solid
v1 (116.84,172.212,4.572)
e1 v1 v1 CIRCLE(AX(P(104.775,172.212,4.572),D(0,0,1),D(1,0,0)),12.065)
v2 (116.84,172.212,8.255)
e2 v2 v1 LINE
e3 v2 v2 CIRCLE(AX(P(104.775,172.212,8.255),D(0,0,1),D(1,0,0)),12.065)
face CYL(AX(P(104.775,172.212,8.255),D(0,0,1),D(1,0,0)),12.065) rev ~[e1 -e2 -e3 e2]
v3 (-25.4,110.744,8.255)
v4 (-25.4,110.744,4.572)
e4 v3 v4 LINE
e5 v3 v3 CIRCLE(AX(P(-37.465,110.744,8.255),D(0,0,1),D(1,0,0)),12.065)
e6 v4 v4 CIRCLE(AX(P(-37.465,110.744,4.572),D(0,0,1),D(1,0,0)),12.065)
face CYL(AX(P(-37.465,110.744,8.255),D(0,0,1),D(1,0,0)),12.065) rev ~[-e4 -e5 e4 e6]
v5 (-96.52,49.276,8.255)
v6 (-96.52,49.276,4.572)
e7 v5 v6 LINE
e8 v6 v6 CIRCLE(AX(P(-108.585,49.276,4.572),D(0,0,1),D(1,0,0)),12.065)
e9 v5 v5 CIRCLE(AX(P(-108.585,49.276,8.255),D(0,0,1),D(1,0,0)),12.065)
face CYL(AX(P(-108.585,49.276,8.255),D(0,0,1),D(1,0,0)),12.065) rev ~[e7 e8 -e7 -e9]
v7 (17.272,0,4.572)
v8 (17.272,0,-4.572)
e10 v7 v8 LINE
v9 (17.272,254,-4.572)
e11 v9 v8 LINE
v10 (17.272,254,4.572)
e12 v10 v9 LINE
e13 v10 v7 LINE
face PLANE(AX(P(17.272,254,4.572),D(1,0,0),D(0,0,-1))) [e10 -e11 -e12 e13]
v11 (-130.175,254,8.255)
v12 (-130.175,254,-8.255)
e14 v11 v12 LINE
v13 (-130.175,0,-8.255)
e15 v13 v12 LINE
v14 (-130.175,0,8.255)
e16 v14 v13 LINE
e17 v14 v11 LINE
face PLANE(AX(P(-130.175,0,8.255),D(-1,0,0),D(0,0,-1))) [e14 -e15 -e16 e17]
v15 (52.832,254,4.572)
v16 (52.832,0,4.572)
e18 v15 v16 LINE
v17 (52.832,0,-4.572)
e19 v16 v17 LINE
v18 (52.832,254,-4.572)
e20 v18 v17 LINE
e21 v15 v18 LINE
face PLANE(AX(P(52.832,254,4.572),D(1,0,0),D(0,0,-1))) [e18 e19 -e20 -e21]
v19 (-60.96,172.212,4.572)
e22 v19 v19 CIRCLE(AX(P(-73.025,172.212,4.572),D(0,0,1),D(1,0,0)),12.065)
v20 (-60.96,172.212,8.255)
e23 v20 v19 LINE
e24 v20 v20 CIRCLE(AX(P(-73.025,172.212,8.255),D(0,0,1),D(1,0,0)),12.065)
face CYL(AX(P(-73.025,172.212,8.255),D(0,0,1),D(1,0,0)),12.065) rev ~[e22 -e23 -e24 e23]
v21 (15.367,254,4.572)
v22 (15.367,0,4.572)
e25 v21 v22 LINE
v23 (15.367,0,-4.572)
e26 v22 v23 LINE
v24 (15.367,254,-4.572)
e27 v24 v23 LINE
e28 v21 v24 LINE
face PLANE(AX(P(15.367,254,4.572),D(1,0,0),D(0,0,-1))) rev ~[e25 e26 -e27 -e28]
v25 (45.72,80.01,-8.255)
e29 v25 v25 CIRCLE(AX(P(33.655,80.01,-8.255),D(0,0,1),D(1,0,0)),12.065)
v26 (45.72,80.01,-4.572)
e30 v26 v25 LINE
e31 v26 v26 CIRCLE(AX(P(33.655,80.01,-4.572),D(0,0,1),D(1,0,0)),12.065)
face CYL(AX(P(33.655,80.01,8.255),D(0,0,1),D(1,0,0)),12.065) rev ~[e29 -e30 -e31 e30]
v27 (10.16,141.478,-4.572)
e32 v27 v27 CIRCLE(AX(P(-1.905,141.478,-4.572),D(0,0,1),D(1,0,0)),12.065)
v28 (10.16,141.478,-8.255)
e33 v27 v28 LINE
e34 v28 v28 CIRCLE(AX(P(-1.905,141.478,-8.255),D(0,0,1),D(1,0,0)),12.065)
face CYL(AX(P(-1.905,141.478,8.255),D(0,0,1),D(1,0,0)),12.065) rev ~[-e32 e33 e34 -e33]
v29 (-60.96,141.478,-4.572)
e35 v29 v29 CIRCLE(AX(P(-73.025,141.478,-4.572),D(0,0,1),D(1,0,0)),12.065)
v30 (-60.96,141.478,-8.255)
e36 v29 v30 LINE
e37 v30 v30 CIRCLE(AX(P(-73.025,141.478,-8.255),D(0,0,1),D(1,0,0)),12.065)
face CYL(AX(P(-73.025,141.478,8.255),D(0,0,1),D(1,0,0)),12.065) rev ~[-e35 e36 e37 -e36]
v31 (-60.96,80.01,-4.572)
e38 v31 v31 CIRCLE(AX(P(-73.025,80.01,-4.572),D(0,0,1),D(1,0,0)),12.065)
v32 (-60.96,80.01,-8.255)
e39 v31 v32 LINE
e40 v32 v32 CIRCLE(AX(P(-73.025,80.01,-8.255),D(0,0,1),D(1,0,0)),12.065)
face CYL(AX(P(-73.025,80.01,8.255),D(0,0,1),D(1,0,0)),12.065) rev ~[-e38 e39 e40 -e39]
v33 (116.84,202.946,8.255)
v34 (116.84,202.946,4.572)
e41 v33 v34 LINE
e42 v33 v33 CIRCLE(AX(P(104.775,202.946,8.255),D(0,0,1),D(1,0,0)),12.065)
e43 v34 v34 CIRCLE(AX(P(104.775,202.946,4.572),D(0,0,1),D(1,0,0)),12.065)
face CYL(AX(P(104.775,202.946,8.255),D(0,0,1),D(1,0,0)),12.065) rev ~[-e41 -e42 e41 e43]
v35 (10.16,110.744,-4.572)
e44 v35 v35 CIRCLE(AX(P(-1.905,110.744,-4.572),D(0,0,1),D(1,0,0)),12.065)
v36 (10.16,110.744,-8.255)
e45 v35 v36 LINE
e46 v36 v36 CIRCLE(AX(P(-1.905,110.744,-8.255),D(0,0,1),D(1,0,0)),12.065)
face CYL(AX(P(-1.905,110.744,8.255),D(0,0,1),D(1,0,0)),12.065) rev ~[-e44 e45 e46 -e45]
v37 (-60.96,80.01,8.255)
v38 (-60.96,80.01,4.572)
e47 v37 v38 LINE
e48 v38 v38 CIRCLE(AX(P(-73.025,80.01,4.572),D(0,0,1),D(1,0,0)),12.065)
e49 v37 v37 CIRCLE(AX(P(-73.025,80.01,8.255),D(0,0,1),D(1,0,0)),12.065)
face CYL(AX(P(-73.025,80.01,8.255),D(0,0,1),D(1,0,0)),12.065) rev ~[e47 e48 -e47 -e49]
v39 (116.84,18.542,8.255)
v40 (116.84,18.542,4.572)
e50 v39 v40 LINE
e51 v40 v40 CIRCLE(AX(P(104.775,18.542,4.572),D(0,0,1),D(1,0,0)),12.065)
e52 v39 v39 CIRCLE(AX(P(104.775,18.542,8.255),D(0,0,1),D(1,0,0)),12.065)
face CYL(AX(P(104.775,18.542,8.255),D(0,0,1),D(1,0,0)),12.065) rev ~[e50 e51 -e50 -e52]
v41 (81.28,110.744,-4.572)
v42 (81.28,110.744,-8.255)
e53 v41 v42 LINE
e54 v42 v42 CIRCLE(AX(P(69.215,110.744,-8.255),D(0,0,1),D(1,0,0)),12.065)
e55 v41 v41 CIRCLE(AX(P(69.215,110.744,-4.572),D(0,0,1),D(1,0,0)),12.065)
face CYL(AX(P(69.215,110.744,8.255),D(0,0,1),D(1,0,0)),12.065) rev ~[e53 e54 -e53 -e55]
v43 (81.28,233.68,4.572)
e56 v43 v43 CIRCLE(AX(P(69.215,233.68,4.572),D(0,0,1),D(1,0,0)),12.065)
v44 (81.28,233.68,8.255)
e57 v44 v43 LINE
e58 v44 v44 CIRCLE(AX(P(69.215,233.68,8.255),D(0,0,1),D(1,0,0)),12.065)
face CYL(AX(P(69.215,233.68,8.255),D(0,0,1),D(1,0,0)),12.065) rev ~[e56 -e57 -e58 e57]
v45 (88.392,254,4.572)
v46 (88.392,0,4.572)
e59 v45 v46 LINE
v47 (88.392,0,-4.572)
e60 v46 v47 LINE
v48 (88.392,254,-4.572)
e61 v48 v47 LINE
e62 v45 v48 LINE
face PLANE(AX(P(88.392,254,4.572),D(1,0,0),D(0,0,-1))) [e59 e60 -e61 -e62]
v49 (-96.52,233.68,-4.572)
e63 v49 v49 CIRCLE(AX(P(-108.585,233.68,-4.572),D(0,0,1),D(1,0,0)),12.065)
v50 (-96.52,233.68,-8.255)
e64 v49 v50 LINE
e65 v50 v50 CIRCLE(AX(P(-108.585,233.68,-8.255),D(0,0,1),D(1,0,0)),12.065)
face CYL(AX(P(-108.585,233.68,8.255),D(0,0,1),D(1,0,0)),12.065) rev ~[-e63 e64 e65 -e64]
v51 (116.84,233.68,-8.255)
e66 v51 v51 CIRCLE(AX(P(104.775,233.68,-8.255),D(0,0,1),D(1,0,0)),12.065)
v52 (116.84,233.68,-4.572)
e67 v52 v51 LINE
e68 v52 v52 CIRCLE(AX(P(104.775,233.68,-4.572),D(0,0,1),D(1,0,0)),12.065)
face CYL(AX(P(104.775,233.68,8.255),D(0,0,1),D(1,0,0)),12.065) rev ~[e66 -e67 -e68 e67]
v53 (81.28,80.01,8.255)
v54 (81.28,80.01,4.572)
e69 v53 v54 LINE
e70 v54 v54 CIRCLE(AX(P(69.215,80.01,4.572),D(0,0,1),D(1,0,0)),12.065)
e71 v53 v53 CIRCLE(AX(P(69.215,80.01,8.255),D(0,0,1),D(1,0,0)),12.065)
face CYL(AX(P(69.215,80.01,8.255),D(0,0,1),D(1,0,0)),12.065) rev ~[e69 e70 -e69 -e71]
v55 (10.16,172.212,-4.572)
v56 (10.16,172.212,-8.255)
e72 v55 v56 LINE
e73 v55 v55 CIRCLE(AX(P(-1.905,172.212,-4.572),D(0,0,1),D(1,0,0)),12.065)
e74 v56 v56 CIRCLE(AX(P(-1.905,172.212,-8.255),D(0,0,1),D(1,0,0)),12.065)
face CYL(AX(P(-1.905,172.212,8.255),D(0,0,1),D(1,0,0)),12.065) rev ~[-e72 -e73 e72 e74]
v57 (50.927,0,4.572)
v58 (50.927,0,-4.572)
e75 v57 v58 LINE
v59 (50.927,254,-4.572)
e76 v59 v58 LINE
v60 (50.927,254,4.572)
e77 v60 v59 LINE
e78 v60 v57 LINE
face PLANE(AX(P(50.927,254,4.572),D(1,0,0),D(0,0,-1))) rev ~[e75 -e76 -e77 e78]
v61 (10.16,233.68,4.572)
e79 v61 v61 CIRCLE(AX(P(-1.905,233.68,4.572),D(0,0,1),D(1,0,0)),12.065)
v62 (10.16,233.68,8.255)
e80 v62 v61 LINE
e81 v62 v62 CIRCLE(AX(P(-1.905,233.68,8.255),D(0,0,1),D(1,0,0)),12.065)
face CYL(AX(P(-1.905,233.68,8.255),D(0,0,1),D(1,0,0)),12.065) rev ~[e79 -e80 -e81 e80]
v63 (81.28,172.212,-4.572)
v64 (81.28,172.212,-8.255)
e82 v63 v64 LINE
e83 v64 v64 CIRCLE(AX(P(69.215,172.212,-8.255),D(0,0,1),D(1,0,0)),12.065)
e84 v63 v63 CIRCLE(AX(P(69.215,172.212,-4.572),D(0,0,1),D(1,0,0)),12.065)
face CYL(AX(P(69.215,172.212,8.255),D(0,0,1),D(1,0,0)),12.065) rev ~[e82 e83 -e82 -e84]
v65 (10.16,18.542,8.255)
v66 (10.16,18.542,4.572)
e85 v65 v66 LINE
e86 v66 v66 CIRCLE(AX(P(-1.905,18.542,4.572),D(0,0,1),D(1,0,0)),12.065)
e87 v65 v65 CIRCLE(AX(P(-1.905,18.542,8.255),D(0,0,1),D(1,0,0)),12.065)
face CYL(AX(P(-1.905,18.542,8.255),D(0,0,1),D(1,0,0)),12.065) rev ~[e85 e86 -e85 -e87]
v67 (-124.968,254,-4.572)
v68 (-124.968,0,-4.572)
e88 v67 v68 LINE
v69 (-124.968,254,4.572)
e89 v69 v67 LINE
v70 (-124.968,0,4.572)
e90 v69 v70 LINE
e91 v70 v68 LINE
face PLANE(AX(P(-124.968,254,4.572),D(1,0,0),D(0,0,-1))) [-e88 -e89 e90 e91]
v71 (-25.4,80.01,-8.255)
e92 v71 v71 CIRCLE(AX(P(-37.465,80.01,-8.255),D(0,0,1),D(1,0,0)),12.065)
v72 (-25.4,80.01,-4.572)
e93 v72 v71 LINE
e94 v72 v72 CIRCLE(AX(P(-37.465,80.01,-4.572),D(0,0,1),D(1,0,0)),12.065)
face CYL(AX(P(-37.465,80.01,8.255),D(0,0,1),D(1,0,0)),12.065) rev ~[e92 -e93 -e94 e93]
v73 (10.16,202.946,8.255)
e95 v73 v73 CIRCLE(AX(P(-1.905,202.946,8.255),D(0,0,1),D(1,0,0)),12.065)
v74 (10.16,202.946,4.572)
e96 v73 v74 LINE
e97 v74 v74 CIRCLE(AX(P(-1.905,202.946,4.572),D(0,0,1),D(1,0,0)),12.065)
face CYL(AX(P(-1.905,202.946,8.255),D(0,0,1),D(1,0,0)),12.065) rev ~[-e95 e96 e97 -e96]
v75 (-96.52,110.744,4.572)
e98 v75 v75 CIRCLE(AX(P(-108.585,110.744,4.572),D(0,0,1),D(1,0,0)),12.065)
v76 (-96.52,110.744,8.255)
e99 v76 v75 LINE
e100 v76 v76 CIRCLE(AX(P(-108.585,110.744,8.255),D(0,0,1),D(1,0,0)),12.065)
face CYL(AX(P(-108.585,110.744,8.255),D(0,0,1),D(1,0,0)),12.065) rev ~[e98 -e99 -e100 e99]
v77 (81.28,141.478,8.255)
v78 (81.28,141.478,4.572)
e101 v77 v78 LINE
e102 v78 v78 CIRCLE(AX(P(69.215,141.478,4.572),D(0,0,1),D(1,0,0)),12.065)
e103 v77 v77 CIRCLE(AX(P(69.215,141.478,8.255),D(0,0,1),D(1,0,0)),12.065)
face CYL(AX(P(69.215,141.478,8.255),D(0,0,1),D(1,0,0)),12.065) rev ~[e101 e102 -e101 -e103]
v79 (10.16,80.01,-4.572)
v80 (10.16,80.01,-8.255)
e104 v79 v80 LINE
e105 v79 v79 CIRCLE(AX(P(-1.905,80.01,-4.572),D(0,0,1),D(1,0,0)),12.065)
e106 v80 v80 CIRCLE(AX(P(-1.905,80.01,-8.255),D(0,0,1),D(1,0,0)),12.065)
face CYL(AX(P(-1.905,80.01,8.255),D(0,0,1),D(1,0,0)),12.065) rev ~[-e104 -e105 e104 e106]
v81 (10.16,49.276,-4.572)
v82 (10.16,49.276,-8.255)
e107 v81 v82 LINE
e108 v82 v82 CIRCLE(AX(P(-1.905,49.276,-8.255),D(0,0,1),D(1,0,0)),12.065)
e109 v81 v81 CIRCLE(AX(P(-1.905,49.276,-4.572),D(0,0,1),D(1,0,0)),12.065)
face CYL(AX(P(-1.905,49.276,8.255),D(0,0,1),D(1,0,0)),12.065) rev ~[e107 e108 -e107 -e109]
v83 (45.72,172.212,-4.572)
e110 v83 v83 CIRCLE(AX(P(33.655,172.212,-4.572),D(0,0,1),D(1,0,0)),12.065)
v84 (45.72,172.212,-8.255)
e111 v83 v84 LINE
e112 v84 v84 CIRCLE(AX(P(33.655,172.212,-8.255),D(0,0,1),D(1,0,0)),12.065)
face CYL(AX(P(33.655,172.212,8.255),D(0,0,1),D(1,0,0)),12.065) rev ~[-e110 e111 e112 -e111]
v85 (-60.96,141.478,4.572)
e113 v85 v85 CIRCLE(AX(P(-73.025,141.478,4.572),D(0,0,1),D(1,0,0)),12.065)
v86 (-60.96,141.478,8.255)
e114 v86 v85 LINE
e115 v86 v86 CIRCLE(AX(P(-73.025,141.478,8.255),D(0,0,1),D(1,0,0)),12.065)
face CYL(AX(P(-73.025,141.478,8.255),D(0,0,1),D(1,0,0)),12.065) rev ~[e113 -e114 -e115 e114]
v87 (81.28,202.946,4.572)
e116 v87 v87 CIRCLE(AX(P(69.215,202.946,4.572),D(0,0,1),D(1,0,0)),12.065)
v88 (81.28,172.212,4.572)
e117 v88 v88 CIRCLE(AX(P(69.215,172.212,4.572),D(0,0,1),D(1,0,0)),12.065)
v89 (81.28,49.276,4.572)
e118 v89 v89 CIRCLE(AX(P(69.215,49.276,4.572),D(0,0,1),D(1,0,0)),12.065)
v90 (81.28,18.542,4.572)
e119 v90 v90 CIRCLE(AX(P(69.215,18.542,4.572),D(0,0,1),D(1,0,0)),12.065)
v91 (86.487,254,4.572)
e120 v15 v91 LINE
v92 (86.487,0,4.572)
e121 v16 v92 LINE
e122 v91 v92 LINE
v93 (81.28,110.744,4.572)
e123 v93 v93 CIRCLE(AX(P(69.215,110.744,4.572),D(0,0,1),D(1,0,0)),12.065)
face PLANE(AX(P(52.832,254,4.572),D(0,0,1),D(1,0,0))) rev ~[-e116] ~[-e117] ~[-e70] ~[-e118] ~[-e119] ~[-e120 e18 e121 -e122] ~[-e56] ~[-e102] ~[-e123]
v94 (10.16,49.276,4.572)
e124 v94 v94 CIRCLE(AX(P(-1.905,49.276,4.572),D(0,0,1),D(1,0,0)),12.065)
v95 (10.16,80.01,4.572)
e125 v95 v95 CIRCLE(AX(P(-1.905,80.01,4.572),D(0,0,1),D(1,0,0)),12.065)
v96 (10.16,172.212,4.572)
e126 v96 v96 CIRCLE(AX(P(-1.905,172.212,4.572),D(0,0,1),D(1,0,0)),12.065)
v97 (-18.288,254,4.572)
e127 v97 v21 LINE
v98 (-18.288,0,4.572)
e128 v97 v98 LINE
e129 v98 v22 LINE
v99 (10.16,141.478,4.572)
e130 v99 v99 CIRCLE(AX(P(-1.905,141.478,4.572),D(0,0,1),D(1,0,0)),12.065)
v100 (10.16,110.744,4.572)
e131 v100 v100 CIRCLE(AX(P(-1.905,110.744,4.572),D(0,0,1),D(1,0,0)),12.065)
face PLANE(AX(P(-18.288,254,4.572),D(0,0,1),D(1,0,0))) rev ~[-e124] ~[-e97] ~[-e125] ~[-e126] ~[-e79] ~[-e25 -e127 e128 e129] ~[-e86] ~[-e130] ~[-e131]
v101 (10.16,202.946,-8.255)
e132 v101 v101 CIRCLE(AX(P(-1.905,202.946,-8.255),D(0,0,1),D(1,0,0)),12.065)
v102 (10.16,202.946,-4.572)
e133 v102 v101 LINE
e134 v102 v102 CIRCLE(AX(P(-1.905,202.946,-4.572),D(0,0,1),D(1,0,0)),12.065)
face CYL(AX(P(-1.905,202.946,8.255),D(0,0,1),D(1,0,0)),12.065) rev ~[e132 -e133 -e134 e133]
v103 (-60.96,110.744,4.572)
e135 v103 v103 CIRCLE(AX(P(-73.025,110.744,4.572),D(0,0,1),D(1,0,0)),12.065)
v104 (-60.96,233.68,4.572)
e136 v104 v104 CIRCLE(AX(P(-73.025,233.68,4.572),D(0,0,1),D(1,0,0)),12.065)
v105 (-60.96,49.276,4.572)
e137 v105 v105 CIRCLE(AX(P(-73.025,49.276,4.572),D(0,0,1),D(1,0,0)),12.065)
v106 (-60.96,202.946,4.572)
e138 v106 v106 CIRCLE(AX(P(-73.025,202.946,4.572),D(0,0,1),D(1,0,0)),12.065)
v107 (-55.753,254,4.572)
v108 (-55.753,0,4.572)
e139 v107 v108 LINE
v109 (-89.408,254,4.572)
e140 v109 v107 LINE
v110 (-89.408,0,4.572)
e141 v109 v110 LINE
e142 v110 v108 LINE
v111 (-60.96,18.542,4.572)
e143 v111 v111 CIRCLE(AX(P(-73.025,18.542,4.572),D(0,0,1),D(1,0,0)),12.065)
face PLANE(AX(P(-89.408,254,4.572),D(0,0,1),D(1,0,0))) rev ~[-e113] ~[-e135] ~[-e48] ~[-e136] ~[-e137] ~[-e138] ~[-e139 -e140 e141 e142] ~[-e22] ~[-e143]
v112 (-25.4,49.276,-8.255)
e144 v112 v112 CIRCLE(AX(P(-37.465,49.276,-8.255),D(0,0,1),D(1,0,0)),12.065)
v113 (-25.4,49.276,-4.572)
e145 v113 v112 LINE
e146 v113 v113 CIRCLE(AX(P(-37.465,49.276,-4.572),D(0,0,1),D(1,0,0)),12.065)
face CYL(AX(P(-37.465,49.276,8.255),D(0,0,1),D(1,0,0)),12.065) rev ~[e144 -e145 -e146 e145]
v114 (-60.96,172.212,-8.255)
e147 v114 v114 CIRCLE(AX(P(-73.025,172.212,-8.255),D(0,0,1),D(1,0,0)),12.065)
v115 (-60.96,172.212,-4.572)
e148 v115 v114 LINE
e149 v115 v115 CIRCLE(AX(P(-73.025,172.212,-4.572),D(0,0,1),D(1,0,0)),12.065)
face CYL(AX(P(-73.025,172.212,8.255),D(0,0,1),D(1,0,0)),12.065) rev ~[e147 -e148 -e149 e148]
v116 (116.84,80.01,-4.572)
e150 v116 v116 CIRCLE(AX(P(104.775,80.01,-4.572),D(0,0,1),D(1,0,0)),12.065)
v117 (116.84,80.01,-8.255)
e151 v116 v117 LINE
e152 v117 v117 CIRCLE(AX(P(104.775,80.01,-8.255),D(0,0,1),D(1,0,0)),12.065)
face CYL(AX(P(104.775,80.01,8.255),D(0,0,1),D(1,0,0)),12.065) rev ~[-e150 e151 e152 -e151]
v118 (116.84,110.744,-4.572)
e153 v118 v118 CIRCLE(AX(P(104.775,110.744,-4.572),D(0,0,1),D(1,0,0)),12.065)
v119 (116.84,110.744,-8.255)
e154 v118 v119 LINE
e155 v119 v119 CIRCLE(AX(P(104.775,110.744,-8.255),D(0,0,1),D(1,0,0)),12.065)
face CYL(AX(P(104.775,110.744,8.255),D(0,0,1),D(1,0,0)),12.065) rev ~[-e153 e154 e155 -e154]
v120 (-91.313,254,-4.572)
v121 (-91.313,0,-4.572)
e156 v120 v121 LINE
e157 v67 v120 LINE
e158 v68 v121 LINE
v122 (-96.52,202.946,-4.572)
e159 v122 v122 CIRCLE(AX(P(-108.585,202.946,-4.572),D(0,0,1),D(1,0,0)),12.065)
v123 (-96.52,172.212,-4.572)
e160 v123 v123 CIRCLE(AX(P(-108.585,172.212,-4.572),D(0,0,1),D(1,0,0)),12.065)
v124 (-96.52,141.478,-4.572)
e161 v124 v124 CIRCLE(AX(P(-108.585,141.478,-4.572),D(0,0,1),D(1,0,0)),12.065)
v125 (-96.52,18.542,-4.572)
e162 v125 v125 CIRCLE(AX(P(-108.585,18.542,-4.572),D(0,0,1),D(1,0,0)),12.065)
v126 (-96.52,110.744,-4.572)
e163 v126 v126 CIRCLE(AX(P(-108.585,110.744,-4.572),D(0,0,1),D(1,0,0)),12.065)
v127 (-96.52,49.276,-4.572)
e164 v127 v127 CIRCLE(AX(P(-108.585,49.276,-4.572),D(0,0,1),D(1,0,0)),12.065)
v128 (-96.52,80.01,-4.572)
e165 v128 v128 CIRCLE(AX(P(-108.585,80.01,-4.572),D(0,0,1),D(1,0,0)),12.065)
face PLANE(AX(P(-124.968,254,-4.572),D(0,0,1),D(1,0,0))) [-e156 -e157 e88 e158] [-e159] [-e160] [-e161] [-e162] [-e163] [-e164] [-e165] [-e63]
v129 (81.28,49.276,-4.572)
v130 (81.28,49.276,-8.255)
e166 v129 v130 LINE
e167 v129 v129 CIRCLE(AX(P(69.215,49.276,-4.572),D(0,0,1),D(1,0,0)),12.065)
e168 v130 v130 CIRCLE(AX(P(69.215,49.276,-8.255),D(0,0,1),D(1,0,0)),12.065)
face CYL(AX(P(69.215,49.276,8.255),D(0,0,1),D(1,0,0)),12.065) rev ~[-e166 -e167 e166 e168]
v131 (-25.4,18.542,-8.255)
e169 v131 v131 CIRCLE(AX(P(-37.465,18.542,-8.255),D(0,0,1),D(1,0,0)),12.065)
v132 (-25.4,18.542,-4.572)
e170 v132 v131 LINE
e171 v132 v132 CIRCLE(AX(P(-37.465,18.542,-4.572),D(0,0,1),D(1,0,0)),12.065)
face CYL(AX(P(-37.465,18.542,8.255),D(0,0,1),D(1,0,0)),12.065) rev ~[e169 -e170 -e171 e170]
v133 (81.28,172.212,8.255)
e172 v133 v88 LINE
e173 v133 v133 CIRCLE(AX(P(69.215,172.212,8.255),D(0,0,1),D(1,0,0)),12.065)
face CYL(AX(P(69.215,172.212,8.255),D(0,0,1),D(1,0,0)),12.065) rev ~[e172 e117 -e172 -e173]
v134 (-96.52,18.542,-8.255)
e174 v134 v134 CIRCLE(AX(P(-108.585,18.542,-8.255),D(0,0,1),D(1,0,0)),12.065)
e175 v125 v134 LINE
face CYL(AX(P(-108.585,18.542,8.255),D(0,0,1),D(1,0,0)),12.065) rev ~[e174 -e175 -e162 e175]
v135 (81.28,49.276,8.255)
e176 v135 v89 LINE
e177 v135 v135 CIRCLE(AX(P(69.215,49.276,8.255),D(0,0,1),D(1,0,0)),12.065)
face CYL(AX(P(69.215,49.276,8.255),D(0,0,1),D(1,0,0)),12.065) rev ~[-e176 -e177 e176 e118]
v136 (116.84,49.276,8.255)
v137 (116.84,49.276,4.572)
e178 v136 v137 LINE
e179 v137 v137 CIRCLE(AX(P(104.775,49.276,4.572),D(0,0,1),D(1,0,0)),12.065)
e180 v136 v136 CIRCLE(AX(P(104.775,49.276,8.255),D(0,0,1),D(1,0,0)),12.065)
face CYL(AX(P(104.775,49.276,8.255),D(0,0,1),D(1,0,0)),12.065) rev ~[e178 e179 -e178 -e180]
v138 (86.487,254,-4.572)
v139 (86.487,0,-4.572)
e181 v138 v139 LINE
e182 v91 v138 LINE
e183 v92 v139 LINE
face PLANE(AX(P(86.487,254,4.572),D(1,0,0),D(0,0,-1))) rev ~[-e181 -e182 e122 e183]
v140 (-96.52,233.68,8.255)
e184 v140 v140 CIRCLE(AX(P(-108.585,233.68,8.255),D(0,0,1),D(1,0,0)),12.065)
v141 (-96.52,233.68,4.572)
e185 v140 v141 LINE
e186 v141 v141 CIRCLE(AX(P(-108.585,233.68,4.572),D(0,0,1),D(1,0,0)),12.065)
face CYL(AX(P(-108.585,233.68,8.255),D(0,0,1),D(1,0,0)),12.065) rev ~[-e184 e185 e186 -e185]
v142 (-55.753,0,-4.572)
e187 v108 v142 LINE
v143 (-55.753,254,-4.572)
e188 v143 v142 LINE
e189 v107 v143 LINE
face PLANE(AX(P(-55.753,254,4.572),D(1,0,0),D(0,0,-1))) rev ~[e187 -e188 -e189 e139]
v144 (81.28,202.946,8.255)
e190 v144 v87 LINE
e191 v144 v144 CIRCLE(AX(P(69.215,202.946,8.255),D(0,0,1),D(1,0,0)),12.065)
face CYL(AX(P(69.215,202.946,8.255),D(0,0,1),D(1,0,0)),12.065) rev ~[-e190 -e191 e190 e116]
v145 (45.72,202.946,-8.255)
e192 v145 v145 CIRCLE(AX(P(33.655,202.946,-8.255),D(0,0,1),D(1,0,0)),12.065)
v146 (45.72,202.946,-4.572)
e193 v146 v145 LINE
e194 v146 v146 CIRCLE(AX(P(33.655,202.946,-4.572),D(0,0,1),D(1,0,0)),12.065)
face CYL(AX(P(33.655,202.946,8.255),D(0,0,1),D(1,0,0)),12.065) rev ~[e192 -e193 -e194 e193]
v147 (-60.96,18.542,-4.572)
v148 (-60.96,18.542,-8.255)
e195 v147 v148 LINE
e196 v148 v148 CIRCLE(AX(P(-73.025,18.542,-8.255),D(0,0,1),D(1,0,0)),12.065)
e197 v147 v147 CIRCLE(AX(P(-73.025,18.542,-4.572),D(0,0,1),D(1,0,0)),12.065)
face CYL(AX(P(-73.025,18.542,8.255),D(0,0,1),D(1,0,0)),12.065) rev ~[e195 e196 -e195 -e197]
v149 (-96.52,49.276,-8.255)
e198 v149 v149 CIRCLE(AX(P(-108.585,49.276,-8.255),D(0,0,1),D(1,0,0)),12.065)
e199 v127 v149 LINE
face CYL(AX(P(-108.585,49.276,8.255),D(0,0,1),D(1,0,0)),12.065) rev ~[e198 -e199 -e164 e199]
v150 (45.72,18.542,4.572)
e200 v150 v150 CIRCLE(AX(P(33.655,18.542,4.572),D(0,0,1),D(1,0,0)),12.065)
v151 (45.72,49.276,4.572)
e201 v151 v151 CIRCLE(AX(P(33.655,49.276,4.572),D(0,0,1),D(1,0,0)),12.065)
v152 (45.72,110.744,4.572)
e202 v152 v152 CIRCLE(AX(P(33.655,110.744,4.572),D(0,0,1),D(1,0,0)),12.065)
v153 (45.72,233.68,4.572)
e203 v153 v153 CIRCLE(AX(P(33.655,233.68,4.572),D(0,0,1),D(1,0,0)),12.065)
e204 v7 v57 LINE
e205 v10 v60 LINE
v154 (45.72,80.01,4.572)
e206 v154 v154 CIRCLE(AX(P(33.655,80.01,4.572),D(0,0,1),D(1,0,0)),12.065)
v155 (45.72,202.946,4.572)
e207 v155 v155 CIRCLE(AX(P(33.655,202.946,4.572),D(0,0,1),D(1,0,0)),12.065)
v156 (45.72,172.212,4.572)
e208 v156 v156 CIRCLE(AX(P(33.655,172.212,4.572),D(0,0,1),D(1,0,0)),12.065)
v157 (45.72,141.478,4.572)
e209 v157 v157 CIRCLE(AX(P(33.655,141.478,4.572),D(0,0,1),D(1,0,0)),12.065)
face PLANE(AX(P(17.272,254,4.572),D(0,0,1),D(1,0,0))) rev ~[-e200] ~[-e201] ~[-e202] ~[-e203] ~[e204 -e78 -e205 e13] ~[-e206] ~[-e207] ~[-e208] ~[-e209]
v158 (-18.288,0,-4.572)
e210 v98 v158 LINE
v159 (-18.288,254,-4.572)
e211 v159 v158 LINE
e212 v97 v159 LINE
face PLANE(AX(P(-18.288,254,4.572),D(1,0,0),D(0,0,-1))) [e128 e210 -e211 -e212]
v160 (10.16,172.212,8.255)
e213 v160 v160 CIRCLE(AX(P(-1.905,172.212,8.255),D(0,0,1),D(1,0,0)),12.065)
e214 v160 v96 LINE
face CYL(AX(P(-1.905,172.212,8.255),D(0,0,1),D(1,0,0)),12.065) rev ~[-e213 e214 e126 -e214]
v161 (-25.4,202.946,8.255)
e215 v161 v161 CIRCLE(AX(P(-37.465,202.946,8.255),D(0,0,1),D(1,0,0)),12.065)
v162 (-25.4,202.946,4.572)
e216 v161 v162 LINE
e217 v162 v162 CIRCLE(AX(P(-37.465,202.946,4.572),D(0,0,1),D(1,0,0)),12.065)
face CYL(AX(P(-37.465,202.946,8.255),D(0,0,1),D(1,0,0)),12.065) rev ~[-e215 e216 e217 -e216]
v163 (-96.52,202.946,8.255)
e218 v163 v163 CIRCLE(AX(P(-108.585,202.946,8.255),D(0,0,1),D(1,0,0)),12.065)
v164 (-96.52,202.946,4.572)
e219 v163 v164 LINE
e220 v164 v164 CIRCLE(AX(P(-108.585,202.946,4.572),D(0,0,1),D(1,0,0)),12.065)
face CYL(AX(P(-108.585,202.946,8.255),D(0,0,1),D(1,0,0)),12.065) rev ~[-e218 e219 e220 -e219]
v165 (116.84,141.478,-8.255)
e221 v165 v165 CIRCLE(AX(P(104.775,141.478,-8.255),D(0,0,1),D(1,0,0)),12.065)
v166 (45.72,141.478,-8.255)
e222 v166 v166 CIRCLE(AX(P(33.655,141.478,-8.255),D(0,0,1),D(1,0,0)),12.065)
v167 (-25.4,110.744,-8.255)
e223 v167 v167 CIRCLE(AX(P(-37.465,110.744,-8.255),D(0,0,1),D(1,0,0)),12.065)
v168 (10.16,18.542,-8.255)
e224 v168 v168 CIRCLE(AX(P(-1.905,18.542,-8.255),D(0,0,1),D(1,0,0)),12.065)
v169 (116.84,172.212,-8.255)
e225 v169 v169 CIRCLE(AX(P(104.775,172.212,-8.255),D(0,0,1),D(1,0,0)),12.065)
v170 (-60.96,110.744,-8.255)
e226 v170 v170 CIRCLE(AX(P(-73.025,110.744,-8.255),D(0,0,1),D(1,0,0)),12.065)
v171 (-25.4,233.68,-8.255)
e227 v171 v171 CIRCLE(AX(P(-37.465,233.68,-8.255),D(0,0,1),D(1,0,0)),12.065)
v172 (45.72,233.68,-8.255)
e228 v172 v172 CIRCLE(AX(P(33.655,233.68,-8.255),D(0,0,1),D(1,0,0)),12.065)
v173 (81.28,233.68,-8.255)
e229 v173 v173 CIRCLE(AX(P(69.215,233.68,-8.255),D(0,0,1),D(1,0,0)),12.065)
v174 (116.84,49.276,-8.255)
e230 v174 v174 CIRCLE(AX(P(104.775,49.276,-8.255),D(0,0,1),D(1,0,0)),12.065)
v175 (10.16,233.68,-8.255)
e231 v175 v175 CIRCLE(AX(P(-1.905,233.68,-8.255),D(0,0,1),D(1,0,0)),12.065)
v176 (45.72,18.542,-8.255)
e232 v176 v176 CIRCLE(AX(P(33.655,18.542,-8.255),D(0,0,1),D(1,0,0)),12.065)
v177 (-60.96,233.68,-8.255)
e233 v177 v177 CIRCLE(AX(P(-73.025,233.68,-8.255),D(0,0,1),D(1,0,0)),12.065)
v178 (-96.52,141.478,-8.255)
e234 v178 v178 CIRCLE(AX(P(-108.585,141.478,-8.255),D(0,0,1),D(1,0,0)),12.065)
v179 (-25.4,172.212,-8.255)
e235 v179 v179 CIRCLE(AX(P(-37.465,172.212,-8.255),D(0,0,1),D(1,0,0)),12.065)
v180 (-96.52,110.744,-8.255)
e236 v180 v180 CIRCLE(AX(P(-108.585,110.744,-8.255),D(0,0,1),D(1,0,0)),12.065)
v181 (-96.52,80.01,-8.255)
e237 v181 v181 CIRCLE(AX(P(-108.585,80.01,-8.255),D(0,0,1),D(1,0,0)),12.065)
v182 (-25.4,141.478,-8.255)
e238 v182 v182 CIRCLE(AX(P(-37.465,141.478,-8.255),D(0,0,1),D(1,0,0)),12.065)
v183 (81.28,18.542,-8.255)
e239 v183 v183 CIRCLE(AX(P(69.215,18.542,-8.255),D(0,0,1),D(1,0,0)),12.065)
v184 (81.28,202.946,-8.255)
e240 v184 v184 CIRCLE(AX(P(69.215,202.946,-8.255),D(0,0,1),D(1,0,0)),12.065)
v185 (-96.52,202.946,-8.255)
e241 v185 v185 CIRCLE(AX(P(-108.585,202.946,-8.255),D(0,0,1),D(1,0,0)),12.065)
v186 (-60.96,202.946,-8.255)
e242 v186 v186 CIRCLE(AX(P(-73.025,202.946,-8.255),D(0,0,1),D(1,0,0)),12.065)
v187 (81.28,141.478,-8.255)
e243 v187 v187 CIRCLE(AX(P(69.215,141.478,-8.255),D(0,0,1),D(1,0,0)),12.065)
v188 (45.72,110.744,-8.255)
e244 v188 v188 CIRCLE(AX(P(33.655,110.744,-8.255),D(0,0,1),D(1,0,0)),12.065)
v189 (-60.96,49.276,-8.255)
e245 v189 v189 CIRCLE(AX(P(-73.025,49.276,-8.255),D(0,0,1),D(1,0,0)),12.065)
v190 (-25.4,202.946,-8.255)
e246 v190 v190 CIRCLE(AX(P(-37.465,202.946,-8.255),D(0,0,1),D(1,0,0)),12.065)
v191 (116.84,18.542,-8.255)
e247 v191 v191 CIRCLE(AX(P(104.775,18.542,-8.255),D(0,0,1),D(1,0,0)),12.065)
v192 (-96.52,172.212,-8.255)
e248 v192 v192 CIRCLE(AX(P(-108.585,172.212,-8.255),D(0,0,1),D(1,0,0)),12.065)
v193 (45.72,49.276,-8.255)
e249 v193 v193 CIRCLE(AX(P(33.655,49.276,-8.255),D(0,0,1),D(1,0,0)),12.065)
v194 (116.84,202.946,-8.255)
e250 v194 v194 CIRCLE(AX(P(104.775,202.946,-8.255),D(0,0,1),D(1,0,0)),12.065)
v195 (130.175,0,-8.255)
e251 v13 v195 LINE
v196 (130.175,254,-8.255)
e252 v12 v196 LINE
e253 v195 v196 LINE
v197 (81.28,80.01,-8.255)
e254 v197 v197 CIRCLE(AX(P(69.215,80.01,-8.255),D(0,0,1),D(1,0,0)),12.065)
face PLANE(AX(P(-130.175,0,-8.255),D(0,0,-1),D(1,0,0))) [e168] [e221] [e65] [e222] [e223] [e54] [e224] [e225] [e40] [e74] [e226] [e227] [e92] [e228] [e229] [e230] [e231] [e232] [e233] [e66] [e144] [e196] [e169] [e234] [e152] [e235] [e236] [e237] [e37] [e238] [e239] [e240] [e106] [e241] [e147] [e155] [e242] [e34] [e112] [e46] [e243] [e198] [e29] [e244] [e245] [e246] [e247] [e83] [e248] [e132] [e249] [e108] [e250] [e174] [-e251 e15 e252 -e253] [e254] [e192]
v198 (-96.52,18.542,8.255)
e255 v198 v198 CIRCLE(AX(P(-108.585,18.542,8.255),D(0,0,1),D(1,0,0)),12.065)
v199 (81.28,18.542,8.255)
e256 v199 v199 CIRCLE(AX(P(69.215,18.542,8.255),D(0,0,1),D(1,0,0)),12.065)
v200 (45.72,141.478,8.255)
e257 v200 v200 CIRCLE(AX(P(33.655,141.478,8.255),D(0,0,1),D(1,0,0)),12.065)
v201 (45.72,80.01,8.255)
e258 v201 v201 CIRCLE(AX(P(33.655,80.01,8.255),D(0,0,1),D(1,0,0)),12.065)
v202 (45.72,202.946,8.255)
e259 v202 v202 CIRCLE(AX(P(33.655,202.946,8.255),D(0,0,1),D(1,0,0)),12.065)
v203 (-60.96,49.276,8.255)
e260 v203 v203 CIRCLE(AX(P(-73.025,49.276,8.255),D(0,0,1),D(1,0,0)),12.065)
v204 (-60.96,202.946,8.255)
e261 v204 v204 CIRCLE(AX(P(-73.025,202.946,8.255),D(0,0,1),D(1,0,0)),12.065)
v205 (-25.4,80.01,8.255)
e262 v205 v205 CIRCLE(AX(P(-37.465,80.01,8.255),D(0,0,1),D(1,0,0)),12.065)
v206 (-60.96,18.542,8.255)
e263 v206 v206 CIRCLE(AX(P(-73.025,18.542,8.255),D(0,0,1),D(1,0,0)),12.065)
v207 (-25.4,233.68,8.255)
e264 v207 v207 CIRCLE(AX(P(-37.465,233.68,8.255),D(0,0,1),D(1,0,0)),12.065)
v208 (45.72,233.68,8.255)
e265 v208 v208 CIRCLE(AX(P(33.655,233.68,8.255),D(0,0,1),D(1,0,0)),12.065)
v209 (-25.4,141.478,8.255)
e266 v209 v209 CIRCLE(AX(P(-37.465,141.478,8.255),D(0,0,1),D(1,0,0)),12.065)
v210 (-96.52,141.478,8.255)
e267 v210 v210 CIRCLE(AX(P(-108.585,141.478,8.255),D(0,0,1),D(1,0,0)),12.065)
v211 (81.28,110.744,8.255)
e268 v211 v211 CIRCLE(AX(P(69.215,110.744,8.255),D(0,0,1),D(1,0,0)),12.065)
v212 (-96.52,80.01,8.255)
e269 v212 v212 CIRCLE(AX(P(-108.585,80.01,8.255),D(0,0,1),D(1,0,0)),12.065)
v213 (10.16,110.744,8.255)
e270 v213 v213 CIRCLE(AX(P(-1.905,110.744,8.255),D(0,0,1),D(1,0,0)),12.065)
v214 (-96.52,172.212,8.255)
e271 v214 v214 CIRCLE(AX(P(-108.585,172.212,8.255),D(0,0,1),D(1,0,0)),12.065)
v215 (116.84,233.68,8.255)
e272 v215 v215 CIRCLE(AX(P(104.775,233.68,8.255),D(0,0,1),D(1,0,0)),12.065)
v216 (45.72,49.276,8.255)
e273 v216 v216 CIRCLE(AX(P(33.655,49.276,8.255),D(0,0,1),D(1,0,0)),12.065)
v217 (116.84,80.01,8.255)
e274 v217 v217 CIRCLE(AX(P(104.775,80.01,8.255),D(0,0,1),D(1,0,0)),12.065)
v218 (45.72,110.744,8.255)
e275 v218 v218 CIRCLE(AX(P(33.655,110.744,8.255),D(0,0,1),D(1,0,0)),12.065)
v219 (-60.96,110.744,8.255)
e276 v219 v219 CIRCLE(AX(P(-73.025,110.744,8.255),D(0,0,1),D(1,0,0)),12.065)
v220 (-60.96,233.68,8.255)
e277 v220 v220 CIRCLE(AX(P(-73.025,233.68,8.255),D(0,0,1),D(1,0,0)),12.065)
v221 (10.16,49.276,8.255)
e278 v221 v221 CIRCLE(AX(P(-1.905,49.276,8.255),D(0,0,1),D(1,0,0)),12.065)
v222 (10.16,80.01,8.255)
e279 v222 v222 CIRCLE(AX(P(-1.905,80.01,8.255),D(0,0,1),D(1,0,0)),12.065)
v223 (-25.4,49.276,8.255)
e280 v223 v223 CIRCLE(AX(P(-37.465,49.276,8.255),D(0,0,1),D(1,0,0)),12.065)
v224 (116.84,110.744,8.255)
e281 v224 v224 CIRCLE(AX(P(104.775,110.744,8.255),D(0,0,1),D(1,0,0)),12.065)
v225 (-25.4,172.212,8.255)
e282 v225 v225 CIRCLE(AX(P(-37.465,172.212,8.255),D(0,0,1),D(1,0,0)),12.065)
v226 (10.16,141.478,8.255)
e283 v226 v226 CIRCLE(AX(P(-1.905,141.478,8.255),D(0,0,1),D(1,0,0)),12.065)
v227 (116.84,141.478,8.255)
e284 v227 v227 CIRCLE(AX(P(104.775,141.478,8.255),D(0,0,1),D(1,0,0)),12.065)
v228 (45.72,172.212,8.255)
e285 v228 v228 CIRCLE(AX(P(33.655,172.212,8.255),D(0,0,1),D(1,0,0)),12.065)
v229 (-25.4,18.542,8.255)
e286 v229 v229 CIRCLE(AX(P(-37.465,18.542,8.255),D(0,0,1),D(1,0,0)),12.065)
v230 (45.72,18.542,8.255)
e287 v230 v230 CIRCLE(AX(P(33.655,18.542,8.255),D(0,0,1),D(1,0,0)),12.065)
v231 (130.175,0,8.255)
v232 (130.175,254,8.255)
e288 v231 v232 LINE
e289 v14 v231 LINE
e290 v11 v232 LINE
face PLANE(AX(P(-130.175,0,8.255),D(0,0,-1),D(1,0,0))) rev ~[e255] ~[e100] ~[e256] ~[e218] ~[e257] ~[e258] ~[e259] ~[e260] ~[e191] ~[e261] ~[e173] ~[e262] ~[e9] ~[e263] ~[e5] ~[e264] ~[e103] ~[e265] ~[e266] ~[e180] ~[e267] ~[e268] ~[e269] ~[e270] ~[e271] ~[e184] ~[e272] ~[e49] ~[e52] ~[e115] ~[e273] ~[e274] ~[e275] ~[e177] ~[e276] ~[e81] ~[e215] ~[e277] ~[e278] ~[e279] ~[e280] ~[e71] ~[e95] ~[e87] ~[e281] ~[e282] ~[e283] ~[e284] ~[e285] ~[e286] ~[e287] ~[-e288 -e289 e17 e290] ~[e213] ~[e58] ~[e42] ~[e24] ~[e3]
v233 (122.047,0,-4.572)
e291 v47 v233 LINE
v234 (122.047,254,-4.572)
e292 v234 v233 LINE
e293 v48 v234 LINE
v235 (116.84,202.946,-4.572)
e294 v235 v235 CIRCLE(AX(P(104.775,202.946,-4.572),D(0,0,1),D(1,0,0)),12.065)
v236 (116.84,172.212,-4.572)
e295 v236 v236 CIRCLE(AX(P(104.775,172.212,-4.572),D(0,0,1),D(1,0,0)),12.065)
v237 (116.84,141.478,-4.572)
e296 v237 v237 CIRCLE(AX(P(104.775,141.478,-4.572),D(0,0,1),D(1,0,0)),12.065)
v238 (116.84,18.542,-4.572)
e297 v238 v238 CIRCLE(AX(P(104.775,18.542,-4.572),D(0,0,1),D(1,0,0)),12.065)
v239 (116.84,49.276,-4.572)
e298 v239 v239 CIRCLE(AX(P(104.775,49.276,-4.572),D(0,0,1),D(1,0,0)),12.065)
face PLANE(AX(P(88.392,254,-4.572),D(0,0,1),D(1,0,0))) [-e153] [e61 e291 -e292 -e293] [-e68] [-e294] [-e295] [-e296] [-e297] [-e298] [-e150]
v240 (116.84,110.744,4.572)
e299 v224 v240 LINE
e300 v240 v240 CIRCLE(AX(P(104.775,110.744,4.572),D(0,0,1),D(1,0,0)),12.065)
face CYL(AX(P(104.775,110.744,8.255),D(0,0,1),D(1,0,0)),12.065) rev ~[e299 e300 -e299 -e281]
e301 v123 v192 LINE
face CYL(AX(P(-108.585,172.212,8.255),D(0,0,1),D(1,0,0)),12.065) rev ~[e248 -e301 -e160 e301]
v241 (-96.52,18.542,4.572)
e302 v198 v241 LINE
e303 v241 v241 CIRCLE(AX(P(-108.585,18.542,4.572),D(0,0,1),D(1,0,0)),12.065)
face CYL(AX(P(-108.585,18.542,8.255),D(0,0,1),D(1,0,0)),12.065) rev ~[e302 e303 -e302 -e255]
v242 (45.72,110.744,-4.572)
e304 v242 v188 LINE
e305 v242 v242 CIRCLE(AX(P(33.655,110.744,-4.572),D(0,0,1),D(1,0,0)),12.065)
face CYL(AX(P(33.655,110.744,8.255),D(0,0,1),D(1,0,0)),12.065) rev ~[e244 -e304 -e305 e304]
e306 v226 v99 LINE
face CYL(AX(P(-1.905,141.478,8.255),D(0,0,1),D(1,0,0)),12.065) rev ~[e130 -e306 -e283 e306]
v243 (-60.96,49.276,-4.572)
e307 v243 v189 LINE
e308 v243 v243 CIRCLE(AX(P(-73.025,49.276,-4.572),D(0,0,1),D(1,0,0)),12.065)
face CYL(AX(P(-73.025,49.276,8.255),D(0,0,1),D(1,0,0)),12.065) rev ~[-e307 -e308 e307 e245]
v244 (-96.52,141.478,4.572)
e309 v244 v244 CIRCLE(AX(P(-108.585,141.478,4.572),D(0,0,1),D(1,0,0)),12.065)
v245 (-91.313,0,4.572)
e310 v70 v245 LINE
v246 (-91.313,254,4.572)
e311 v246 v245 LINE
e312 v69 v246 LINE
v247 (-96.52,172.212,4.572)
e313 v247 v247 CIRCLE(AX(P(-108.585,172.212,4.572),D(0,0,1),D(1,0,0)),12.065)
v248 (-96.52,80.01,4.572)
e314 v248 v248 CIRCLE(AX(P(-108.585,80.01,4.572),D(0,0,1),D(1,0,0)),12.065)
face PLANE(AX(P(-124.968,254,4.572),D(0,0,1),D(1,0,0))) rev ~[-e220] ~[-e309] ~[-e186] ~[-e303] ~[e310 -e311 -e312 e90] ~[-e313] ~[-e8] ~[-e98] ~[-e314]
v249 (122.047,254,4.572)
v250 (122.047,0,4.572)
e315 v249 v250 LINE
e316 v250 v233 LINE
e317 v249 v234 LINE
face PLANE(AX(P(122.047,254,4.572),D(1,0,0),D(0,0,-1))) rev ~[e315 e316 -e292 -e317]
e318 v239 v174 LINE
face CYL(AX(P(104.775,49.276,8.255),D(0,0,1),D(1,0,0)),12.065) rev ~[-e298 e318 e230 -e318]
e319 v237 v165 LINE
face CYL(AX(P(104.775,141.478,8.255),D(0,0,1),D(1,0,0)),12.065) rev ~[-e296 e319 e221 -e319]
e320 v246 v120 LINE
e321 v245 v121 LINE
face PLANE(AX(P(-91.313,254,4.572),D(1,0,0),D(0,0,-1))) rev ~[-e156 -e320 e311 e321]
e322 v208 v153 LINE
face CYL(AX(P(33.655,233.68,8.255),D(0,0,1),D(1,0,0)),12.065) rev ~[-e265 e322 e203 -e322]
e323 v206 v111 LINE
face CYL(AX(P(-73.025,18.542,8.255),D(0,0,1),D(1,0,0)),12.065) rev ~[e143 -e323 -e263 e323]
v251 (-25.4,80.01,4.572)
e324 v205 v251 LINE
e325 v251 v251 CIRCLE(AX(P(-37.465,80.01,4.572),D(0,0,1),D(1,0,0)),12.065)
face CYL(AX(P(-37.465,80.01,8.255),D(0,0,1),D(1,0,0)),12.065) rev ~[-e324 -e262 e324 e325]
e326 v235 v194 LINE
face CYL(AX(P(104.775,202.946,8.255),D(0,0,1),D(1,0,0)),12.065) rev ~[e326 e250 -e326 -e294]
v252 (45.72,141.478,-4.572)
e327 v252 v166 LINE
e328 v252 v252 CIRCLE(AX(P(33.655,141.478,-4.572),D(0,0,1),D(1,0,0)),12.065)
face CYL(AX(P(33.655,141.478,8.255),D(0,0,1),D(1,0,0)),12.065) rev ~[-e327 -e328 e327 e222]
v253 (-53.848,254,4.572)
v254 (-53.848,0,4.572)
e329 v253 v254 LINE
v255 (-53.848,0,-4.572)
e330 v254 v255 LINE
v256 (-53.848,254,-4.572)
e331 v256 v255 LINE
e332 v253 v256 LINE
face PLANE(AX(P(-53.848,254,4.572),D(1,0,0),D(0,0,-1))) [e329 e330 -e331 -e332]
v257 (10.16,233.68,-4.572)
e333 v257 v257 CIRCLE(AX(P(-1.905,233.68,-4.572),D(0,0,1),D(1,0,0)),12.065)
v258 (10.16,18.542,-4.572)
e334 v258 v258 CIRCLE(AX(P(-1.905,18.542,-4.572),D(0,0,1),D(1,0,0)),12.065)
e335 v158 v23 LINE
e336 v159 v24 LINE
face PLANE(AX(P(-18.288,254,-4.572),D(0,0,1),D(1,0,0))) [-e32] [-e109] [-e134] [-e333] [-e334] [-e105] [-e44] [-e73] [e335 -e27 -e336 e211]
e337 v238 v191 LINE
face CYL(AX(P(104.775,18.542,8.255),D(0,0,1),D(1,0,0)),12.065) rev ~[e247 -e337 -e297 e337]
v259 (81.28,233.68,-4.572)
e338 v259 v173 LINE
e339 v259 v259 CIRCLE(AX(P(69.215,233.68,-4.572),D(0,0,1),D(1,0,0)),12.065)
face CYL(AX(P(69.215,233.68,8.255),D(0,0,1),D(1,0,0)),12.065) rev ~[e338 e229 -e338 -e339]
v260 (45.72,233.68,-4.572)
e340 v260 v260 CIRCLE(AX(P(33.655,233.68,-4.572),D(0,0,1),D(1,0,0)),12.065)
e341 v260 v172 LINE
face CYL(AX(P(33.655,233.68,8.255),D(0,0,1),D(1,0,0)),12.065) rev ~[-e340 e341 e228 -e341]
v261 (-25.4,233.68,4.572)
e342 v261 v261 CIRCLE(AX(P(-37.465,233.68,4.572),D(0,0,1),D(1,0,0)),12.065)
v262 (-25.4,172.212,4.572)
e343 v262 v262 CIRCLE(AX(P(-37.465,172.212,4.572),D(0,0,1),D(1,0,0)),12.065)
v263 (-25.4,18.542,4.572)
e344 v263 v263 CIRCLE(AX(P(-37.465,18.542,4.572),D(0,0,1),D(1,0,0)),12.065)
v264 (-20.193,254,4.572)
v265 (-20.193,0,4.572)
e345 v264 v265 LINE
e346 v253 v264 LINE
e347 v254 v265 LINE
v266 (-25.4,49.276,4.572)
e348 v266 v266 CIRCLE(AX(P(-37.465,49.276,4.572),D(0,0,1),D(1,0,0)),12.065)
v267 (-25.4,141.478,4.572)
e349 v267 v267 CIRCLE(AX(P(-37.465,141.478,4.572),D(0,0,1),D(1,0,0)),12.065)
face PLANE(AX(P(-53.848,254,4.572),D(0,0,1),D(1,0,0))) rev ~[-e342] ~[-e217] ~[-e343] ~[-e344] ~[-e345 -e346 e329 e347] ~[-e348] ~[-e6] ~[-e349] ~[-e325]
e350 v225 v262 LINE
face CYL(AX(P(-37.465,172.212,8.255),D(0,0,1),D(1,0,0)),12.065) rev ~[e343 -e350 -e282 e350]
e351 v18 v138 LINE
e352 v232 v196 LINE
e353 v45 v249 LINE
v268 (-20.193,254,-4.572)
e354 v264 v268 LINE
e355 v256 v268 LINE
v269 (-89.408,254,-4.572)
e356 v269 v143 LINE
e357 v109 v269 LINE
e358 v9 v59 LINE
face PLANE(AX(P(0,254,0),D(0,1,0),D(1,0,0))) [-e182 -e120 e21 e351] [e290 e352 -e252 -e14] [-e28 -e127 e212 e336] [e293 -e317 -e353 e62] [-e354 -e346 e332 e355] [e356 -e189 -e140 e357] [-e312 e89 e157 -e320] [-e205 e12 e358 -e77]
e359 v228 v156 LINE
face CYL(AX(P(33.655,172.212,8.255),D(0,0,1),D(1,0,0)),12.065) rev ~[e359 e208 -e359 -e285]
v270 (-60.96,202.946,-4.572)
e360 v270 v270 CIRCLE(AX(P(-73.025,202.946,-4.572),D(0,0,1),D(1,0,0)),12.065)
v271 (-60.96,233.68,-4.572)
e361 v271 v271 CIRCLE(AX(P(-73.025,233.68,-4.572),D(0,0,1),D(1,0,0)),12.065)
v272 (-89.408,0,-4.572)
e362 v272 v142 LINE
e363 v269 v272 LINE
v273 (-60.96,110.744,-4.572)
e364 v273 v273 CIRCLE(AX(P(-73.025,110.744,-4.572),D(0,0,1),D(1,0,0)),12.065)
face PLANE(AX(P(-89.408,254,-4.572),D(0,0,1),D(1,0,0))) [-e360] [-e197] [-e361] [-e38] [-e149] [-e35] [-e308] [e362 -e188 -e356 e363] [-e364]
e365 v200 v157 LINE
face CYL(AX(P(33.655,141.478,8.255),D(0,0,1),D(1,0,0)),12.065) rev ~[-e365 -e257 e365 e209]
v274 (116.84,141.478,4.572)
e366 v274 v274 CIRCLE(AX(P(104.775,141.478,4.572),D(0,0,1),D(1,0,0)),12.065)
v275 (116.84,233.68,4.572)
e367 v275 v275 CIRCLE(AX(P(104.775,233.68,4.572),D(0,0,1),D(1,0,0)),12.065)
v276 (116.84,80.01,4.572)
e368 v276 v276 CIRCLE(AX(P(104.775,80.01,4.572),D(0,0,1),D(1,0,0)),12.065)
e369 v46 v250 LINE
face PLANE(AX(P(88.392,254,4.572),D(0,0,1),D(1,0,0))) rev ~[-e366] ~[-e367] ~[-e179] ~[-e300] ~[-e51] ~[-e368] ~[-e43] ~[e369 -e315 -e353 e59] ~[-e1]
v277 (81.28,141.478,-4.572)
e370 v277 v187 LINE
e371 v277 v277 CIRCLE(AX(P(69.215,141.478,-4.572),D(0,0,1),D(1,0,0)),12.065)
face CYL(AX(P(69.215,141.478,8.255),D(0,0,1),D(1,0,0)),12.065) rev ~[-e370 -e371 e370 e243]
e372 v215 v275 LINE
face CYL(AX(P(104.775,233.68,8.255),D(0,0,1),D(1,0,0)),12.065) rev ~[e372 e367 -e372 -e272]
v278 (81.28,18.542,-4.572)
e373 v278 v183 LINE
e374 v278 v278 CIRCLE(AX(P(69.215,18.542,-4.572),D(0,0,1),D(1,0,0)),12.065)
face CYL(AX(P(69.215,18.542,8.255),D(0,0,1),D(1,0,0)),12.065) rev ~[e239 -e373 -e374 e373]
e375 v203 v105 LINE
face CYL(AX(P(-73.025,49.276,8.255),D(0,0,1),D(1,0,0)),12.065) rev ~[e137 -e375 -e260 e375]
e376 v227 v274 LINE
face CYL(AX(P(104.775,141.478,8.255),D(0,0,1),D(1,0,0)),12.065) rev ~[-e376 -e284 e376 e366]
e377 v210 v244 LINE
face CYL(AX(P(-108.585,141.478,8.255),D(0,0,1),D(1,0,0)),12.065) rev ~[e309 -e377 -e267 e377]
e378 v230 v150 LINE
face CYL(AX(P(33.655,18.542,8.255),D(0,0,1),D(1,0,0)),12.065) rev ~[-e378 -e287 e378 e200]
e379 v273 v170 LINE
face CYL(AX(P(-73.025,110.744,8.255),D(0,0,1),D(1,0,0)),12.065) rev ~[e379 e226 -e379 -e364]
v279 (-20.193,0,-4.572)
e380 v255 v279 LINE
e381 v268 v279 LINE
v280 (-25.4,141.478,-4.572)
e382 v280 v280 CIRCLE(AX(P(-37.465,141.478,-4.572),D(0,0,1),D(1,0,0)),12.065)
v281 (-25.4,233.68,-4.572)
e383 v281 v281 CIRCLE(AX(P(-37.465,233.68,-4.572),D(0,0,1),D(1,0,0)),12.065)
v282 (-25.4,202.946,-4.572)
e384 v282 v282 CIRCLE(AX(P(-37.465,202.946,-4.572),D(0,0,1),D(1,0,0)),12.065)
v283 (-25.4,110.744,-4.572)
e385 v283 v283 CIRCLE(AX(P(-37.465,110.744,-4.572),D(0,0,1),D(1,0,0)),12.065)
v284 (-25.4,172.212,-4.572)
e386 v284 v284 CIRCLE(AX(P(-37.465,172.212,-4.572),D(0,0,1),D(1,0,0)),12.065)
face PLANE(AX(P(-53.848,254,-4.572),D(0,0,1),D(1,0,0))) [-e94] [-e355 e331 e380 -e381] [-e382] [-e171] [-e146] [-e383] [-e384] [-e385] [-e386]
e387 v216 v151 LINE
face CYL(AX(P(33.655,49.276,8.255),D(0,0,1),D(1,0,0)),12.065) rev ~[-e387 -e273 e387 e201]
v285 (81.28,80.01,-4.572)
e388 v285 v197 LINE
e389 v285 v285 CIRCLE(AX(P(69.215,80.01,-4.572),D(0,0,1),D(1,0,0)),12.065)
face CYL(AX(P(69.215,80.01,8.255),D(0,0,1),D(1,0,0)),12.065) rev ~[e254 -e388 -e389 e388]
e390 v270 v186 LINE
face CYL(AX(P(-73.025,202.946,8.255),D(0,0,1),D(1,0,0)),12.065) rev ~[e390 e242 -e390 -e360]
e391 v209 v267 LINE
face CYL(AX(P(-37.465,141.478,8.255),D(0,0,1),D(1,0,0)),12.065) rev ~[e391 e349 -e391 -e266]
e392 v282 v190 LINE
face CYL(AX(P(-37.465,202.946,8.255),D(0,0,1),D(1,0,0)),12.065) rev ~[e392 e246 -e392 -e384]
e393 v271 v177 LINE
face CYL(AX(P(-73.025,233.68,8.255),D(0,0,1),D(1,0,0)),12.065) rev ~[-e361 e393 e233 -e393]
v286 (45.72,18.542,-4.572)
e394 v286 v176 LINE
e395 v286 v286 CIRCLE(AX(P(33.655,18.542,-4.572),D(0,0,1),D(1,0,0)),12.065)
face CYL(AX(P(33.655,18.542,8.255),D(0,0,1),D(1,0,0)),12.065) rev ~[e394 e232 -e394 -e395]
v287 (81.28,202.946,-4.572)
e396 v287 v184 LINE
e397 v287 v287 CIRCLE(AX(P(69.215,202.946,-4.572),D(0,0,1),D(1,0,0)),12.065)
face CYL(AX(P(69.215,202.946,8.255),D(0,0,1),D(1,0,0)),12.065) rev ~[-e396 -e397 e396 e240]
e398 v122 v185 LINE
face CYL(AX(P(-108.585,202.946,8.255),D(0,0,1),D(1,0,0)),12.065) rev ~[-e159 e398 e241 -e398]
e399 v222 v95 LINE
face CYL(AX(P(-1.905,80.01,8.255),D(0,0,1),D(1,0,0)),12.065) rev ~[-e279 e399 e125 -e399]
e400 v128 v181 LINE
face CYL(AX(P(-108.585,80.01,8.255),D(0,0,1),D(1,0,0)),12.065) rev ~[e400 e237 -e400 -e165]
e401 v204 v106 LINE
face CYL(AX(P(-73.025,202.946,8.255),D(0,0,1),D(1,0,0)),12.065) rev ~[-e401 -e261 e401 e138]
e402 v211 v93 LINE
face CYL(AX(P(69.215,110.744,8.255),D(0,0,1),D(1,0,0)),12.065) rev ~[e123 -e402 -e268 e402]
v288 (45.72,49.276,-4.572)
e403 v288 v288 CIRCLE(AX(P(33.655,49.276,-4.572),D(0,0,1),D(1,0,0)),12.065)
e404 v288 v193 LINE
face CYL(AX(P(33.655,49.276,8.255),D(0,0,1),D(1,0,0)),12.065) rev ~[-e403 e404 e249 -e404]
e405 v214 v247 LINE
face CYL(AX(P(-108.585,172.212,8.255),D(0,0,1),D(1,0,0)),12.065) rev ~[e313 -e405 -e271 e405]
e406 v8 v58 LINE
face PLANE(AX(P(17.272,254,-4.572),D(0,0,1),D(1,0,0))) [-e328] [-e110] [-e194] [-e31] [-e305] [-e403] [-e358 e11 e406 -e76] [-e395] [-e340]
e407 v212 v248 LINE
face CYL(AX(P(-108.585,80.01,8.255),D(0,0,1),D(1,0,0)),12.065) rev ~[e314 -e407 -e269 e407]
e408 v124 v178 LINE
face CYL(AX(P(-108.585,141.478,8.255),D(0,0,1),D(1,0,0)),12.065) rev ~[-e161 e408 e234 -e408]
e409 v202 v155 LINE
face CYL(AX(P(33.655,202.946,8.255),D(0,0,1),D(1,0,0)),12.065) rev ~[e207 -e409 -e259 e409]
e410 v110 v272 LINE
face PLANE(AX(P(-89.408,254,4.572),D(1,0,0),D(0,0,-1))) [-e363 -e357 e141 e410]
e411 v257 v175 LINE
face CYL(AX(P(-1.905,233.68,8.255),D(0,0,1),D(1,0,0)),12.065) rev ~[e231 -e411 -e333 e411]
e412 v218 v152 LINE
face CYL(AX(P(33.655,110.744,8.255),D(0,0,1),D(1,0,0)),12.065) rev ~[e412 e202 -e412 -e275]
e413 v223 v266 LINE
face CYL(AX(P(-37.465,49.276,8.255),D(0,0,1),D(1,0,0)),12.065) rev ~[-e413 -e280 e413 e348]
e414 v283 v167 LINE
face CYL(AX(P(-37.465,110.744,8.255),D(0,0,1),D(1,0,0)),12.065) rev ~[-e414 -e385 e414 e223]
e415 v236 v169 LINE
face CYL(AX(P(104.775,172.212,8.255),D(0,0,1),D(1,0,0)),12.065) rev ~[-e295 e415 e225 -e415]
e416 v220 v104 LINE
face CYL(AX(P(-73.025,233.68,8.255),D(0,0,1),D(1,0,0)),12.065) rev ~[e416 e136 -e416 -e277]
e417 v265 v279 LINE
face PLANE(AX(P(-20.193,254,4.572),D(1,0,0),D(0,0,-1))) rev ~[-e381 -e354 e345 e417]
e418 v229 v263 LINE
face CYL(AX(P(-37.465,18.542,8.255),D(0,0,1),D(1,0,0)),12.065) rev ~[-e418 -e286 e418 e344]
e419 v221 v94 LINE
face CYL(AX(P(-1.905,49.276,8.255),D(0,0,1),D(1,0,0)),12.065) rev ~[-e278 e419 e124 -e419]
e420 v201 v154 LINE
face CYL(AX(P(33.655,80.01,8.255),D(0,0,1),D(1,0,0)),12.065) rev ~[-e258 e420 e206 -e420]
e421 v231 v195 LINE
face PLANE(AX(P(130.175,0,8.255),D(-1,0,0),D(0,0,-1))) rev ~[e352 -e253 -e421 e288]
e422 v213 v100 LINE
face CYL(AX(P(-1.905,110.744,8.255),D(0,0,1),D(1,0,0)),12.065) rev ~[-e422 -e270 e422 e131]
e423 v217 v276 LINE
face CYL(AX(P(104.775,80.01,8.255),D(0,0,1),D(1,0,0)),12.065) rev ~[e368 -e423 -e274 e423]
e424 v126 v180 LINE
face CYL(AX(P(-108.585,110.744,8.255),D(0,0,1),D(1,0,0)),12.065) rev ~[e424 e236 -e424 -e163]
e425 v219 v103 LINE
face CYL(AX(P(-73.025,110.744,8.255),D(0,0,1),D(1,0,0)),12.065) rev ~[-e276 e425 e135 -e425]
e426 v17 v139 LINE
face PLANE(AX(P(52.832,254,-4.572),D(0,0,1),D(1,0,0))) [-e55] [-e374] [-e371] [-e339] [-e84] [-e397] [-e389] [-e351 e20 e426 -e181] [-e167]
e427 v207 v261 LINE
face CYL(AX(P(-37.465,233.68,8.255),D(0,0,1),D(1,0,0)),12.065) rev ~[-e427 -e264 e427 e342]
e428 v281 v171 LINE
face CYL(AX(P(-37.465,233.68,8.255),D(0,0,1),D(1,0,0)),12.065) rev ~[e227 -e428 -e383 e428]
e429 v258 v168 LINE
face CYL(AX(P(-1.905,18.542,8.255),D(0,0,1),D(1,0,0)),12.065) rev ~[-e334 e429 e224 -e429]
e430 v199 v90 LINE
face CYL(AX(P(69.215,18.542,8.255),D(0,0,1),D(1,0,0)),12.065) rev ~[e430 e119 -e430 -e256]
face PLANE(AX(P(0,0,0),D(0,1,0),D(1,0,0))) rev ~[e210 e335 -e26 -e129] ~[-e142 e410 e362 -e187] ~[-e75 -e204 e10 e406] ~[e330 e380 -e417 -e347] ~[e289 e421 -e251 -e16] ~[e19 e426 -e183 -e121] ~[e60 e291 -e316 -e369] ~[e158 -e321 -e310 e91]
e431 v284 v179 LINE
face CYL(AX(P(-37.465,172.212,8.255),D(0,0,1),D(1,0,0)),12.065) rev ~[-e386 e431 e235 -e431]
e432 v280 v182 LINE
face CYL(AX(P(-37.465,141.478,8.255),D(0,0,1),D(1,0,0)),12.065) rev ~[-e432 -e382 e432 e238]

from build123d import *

# Parameters (mm, degrees)
SKETCH1_W            = 260.35
SKETCH1_H            = 16.51
BOSS_EXTRUDE1_DEPTH  = 254
SKETCH2_W            = 33.655
SKETCH2_H            = 9.144
CUT_EXTRUDE1_DEPTH   = 286.534018376
LPATTERN1_COUNT      = 7
LPATTERN1_PITCH      = 35.56
SKETCH3_R            = 12.065
CUT_EXTRUDE2_DEPTH   = 286.891781493
LPATTERN2_COUNT      = 7
LPATTERN2_PITCH      = 35.56
LPATTERN2_COUNT_DIR2 = 8
LPATTERN2_PITCH_DIR2 = 30.734


with BuildPart() as part:
    # Sketch1 → Boss-Extrude1 (new body)
    with BuildSketch(Plane(origin=(0, 0, 0), x_dir=(1, 0, 0), z_dir=(0, 1, 0))):
        Rectangle(SKETCH1_W, SKETCH1_H)
    extrude(amount=BOSS_EXTRUDE1_DEPTH)

    # Sketch2 → Cut-Extrude1 (cut, through all)
    with BuildSketch(Plane(origin=(0, 254, 0), x_dir=(1, 0, 0), z_dir=(0, 1, 0))):
        with Locations((-108.1405, 0)):
            Rectangle(SKETCH2_W, SKETCH2_H)
    cut_extrude1 = extrude(amount=-CUT_EXTRUDE1_DEPTH, mode=Mode.SUBTRACT)

    # LPattern1: Cut-Extrude1 ×7
    with Locations(*[(i * LPATTERN1_PITCH, 0, 0) for i in range(1, LPATTERN1_COUNT)]):
        add(cut_extrude1, mode=Mode.SUBTRACT)

    # Sketch3 → Cut-Extrude2 (cut, through all)
    with BuildSketch(Plane.XY.offset(8.255)):
        with Locations((-108.585, 233.68)):
            Circle(SKETCH3_R)
    cut_extrude2 = extrude(amount=-CUT_EXTRUDE2_DEPTH, mode=Mode.SUBTRACT)

    # LPattern2: Cut-Extrude2 7 × 8
    with Locations(*[(i * LPATTERN2_PITCH, -j * LPATTERN2_PITCH_DIR2, 0) for i in range(LPATTERN2_COUNT) for j in range(LPATTERN2_COUNT_DIR2) if (i, j) != (0, 0)]):
        add(cut_extrude2, mode=Mode.SUBTRACT)


solid = part.part
